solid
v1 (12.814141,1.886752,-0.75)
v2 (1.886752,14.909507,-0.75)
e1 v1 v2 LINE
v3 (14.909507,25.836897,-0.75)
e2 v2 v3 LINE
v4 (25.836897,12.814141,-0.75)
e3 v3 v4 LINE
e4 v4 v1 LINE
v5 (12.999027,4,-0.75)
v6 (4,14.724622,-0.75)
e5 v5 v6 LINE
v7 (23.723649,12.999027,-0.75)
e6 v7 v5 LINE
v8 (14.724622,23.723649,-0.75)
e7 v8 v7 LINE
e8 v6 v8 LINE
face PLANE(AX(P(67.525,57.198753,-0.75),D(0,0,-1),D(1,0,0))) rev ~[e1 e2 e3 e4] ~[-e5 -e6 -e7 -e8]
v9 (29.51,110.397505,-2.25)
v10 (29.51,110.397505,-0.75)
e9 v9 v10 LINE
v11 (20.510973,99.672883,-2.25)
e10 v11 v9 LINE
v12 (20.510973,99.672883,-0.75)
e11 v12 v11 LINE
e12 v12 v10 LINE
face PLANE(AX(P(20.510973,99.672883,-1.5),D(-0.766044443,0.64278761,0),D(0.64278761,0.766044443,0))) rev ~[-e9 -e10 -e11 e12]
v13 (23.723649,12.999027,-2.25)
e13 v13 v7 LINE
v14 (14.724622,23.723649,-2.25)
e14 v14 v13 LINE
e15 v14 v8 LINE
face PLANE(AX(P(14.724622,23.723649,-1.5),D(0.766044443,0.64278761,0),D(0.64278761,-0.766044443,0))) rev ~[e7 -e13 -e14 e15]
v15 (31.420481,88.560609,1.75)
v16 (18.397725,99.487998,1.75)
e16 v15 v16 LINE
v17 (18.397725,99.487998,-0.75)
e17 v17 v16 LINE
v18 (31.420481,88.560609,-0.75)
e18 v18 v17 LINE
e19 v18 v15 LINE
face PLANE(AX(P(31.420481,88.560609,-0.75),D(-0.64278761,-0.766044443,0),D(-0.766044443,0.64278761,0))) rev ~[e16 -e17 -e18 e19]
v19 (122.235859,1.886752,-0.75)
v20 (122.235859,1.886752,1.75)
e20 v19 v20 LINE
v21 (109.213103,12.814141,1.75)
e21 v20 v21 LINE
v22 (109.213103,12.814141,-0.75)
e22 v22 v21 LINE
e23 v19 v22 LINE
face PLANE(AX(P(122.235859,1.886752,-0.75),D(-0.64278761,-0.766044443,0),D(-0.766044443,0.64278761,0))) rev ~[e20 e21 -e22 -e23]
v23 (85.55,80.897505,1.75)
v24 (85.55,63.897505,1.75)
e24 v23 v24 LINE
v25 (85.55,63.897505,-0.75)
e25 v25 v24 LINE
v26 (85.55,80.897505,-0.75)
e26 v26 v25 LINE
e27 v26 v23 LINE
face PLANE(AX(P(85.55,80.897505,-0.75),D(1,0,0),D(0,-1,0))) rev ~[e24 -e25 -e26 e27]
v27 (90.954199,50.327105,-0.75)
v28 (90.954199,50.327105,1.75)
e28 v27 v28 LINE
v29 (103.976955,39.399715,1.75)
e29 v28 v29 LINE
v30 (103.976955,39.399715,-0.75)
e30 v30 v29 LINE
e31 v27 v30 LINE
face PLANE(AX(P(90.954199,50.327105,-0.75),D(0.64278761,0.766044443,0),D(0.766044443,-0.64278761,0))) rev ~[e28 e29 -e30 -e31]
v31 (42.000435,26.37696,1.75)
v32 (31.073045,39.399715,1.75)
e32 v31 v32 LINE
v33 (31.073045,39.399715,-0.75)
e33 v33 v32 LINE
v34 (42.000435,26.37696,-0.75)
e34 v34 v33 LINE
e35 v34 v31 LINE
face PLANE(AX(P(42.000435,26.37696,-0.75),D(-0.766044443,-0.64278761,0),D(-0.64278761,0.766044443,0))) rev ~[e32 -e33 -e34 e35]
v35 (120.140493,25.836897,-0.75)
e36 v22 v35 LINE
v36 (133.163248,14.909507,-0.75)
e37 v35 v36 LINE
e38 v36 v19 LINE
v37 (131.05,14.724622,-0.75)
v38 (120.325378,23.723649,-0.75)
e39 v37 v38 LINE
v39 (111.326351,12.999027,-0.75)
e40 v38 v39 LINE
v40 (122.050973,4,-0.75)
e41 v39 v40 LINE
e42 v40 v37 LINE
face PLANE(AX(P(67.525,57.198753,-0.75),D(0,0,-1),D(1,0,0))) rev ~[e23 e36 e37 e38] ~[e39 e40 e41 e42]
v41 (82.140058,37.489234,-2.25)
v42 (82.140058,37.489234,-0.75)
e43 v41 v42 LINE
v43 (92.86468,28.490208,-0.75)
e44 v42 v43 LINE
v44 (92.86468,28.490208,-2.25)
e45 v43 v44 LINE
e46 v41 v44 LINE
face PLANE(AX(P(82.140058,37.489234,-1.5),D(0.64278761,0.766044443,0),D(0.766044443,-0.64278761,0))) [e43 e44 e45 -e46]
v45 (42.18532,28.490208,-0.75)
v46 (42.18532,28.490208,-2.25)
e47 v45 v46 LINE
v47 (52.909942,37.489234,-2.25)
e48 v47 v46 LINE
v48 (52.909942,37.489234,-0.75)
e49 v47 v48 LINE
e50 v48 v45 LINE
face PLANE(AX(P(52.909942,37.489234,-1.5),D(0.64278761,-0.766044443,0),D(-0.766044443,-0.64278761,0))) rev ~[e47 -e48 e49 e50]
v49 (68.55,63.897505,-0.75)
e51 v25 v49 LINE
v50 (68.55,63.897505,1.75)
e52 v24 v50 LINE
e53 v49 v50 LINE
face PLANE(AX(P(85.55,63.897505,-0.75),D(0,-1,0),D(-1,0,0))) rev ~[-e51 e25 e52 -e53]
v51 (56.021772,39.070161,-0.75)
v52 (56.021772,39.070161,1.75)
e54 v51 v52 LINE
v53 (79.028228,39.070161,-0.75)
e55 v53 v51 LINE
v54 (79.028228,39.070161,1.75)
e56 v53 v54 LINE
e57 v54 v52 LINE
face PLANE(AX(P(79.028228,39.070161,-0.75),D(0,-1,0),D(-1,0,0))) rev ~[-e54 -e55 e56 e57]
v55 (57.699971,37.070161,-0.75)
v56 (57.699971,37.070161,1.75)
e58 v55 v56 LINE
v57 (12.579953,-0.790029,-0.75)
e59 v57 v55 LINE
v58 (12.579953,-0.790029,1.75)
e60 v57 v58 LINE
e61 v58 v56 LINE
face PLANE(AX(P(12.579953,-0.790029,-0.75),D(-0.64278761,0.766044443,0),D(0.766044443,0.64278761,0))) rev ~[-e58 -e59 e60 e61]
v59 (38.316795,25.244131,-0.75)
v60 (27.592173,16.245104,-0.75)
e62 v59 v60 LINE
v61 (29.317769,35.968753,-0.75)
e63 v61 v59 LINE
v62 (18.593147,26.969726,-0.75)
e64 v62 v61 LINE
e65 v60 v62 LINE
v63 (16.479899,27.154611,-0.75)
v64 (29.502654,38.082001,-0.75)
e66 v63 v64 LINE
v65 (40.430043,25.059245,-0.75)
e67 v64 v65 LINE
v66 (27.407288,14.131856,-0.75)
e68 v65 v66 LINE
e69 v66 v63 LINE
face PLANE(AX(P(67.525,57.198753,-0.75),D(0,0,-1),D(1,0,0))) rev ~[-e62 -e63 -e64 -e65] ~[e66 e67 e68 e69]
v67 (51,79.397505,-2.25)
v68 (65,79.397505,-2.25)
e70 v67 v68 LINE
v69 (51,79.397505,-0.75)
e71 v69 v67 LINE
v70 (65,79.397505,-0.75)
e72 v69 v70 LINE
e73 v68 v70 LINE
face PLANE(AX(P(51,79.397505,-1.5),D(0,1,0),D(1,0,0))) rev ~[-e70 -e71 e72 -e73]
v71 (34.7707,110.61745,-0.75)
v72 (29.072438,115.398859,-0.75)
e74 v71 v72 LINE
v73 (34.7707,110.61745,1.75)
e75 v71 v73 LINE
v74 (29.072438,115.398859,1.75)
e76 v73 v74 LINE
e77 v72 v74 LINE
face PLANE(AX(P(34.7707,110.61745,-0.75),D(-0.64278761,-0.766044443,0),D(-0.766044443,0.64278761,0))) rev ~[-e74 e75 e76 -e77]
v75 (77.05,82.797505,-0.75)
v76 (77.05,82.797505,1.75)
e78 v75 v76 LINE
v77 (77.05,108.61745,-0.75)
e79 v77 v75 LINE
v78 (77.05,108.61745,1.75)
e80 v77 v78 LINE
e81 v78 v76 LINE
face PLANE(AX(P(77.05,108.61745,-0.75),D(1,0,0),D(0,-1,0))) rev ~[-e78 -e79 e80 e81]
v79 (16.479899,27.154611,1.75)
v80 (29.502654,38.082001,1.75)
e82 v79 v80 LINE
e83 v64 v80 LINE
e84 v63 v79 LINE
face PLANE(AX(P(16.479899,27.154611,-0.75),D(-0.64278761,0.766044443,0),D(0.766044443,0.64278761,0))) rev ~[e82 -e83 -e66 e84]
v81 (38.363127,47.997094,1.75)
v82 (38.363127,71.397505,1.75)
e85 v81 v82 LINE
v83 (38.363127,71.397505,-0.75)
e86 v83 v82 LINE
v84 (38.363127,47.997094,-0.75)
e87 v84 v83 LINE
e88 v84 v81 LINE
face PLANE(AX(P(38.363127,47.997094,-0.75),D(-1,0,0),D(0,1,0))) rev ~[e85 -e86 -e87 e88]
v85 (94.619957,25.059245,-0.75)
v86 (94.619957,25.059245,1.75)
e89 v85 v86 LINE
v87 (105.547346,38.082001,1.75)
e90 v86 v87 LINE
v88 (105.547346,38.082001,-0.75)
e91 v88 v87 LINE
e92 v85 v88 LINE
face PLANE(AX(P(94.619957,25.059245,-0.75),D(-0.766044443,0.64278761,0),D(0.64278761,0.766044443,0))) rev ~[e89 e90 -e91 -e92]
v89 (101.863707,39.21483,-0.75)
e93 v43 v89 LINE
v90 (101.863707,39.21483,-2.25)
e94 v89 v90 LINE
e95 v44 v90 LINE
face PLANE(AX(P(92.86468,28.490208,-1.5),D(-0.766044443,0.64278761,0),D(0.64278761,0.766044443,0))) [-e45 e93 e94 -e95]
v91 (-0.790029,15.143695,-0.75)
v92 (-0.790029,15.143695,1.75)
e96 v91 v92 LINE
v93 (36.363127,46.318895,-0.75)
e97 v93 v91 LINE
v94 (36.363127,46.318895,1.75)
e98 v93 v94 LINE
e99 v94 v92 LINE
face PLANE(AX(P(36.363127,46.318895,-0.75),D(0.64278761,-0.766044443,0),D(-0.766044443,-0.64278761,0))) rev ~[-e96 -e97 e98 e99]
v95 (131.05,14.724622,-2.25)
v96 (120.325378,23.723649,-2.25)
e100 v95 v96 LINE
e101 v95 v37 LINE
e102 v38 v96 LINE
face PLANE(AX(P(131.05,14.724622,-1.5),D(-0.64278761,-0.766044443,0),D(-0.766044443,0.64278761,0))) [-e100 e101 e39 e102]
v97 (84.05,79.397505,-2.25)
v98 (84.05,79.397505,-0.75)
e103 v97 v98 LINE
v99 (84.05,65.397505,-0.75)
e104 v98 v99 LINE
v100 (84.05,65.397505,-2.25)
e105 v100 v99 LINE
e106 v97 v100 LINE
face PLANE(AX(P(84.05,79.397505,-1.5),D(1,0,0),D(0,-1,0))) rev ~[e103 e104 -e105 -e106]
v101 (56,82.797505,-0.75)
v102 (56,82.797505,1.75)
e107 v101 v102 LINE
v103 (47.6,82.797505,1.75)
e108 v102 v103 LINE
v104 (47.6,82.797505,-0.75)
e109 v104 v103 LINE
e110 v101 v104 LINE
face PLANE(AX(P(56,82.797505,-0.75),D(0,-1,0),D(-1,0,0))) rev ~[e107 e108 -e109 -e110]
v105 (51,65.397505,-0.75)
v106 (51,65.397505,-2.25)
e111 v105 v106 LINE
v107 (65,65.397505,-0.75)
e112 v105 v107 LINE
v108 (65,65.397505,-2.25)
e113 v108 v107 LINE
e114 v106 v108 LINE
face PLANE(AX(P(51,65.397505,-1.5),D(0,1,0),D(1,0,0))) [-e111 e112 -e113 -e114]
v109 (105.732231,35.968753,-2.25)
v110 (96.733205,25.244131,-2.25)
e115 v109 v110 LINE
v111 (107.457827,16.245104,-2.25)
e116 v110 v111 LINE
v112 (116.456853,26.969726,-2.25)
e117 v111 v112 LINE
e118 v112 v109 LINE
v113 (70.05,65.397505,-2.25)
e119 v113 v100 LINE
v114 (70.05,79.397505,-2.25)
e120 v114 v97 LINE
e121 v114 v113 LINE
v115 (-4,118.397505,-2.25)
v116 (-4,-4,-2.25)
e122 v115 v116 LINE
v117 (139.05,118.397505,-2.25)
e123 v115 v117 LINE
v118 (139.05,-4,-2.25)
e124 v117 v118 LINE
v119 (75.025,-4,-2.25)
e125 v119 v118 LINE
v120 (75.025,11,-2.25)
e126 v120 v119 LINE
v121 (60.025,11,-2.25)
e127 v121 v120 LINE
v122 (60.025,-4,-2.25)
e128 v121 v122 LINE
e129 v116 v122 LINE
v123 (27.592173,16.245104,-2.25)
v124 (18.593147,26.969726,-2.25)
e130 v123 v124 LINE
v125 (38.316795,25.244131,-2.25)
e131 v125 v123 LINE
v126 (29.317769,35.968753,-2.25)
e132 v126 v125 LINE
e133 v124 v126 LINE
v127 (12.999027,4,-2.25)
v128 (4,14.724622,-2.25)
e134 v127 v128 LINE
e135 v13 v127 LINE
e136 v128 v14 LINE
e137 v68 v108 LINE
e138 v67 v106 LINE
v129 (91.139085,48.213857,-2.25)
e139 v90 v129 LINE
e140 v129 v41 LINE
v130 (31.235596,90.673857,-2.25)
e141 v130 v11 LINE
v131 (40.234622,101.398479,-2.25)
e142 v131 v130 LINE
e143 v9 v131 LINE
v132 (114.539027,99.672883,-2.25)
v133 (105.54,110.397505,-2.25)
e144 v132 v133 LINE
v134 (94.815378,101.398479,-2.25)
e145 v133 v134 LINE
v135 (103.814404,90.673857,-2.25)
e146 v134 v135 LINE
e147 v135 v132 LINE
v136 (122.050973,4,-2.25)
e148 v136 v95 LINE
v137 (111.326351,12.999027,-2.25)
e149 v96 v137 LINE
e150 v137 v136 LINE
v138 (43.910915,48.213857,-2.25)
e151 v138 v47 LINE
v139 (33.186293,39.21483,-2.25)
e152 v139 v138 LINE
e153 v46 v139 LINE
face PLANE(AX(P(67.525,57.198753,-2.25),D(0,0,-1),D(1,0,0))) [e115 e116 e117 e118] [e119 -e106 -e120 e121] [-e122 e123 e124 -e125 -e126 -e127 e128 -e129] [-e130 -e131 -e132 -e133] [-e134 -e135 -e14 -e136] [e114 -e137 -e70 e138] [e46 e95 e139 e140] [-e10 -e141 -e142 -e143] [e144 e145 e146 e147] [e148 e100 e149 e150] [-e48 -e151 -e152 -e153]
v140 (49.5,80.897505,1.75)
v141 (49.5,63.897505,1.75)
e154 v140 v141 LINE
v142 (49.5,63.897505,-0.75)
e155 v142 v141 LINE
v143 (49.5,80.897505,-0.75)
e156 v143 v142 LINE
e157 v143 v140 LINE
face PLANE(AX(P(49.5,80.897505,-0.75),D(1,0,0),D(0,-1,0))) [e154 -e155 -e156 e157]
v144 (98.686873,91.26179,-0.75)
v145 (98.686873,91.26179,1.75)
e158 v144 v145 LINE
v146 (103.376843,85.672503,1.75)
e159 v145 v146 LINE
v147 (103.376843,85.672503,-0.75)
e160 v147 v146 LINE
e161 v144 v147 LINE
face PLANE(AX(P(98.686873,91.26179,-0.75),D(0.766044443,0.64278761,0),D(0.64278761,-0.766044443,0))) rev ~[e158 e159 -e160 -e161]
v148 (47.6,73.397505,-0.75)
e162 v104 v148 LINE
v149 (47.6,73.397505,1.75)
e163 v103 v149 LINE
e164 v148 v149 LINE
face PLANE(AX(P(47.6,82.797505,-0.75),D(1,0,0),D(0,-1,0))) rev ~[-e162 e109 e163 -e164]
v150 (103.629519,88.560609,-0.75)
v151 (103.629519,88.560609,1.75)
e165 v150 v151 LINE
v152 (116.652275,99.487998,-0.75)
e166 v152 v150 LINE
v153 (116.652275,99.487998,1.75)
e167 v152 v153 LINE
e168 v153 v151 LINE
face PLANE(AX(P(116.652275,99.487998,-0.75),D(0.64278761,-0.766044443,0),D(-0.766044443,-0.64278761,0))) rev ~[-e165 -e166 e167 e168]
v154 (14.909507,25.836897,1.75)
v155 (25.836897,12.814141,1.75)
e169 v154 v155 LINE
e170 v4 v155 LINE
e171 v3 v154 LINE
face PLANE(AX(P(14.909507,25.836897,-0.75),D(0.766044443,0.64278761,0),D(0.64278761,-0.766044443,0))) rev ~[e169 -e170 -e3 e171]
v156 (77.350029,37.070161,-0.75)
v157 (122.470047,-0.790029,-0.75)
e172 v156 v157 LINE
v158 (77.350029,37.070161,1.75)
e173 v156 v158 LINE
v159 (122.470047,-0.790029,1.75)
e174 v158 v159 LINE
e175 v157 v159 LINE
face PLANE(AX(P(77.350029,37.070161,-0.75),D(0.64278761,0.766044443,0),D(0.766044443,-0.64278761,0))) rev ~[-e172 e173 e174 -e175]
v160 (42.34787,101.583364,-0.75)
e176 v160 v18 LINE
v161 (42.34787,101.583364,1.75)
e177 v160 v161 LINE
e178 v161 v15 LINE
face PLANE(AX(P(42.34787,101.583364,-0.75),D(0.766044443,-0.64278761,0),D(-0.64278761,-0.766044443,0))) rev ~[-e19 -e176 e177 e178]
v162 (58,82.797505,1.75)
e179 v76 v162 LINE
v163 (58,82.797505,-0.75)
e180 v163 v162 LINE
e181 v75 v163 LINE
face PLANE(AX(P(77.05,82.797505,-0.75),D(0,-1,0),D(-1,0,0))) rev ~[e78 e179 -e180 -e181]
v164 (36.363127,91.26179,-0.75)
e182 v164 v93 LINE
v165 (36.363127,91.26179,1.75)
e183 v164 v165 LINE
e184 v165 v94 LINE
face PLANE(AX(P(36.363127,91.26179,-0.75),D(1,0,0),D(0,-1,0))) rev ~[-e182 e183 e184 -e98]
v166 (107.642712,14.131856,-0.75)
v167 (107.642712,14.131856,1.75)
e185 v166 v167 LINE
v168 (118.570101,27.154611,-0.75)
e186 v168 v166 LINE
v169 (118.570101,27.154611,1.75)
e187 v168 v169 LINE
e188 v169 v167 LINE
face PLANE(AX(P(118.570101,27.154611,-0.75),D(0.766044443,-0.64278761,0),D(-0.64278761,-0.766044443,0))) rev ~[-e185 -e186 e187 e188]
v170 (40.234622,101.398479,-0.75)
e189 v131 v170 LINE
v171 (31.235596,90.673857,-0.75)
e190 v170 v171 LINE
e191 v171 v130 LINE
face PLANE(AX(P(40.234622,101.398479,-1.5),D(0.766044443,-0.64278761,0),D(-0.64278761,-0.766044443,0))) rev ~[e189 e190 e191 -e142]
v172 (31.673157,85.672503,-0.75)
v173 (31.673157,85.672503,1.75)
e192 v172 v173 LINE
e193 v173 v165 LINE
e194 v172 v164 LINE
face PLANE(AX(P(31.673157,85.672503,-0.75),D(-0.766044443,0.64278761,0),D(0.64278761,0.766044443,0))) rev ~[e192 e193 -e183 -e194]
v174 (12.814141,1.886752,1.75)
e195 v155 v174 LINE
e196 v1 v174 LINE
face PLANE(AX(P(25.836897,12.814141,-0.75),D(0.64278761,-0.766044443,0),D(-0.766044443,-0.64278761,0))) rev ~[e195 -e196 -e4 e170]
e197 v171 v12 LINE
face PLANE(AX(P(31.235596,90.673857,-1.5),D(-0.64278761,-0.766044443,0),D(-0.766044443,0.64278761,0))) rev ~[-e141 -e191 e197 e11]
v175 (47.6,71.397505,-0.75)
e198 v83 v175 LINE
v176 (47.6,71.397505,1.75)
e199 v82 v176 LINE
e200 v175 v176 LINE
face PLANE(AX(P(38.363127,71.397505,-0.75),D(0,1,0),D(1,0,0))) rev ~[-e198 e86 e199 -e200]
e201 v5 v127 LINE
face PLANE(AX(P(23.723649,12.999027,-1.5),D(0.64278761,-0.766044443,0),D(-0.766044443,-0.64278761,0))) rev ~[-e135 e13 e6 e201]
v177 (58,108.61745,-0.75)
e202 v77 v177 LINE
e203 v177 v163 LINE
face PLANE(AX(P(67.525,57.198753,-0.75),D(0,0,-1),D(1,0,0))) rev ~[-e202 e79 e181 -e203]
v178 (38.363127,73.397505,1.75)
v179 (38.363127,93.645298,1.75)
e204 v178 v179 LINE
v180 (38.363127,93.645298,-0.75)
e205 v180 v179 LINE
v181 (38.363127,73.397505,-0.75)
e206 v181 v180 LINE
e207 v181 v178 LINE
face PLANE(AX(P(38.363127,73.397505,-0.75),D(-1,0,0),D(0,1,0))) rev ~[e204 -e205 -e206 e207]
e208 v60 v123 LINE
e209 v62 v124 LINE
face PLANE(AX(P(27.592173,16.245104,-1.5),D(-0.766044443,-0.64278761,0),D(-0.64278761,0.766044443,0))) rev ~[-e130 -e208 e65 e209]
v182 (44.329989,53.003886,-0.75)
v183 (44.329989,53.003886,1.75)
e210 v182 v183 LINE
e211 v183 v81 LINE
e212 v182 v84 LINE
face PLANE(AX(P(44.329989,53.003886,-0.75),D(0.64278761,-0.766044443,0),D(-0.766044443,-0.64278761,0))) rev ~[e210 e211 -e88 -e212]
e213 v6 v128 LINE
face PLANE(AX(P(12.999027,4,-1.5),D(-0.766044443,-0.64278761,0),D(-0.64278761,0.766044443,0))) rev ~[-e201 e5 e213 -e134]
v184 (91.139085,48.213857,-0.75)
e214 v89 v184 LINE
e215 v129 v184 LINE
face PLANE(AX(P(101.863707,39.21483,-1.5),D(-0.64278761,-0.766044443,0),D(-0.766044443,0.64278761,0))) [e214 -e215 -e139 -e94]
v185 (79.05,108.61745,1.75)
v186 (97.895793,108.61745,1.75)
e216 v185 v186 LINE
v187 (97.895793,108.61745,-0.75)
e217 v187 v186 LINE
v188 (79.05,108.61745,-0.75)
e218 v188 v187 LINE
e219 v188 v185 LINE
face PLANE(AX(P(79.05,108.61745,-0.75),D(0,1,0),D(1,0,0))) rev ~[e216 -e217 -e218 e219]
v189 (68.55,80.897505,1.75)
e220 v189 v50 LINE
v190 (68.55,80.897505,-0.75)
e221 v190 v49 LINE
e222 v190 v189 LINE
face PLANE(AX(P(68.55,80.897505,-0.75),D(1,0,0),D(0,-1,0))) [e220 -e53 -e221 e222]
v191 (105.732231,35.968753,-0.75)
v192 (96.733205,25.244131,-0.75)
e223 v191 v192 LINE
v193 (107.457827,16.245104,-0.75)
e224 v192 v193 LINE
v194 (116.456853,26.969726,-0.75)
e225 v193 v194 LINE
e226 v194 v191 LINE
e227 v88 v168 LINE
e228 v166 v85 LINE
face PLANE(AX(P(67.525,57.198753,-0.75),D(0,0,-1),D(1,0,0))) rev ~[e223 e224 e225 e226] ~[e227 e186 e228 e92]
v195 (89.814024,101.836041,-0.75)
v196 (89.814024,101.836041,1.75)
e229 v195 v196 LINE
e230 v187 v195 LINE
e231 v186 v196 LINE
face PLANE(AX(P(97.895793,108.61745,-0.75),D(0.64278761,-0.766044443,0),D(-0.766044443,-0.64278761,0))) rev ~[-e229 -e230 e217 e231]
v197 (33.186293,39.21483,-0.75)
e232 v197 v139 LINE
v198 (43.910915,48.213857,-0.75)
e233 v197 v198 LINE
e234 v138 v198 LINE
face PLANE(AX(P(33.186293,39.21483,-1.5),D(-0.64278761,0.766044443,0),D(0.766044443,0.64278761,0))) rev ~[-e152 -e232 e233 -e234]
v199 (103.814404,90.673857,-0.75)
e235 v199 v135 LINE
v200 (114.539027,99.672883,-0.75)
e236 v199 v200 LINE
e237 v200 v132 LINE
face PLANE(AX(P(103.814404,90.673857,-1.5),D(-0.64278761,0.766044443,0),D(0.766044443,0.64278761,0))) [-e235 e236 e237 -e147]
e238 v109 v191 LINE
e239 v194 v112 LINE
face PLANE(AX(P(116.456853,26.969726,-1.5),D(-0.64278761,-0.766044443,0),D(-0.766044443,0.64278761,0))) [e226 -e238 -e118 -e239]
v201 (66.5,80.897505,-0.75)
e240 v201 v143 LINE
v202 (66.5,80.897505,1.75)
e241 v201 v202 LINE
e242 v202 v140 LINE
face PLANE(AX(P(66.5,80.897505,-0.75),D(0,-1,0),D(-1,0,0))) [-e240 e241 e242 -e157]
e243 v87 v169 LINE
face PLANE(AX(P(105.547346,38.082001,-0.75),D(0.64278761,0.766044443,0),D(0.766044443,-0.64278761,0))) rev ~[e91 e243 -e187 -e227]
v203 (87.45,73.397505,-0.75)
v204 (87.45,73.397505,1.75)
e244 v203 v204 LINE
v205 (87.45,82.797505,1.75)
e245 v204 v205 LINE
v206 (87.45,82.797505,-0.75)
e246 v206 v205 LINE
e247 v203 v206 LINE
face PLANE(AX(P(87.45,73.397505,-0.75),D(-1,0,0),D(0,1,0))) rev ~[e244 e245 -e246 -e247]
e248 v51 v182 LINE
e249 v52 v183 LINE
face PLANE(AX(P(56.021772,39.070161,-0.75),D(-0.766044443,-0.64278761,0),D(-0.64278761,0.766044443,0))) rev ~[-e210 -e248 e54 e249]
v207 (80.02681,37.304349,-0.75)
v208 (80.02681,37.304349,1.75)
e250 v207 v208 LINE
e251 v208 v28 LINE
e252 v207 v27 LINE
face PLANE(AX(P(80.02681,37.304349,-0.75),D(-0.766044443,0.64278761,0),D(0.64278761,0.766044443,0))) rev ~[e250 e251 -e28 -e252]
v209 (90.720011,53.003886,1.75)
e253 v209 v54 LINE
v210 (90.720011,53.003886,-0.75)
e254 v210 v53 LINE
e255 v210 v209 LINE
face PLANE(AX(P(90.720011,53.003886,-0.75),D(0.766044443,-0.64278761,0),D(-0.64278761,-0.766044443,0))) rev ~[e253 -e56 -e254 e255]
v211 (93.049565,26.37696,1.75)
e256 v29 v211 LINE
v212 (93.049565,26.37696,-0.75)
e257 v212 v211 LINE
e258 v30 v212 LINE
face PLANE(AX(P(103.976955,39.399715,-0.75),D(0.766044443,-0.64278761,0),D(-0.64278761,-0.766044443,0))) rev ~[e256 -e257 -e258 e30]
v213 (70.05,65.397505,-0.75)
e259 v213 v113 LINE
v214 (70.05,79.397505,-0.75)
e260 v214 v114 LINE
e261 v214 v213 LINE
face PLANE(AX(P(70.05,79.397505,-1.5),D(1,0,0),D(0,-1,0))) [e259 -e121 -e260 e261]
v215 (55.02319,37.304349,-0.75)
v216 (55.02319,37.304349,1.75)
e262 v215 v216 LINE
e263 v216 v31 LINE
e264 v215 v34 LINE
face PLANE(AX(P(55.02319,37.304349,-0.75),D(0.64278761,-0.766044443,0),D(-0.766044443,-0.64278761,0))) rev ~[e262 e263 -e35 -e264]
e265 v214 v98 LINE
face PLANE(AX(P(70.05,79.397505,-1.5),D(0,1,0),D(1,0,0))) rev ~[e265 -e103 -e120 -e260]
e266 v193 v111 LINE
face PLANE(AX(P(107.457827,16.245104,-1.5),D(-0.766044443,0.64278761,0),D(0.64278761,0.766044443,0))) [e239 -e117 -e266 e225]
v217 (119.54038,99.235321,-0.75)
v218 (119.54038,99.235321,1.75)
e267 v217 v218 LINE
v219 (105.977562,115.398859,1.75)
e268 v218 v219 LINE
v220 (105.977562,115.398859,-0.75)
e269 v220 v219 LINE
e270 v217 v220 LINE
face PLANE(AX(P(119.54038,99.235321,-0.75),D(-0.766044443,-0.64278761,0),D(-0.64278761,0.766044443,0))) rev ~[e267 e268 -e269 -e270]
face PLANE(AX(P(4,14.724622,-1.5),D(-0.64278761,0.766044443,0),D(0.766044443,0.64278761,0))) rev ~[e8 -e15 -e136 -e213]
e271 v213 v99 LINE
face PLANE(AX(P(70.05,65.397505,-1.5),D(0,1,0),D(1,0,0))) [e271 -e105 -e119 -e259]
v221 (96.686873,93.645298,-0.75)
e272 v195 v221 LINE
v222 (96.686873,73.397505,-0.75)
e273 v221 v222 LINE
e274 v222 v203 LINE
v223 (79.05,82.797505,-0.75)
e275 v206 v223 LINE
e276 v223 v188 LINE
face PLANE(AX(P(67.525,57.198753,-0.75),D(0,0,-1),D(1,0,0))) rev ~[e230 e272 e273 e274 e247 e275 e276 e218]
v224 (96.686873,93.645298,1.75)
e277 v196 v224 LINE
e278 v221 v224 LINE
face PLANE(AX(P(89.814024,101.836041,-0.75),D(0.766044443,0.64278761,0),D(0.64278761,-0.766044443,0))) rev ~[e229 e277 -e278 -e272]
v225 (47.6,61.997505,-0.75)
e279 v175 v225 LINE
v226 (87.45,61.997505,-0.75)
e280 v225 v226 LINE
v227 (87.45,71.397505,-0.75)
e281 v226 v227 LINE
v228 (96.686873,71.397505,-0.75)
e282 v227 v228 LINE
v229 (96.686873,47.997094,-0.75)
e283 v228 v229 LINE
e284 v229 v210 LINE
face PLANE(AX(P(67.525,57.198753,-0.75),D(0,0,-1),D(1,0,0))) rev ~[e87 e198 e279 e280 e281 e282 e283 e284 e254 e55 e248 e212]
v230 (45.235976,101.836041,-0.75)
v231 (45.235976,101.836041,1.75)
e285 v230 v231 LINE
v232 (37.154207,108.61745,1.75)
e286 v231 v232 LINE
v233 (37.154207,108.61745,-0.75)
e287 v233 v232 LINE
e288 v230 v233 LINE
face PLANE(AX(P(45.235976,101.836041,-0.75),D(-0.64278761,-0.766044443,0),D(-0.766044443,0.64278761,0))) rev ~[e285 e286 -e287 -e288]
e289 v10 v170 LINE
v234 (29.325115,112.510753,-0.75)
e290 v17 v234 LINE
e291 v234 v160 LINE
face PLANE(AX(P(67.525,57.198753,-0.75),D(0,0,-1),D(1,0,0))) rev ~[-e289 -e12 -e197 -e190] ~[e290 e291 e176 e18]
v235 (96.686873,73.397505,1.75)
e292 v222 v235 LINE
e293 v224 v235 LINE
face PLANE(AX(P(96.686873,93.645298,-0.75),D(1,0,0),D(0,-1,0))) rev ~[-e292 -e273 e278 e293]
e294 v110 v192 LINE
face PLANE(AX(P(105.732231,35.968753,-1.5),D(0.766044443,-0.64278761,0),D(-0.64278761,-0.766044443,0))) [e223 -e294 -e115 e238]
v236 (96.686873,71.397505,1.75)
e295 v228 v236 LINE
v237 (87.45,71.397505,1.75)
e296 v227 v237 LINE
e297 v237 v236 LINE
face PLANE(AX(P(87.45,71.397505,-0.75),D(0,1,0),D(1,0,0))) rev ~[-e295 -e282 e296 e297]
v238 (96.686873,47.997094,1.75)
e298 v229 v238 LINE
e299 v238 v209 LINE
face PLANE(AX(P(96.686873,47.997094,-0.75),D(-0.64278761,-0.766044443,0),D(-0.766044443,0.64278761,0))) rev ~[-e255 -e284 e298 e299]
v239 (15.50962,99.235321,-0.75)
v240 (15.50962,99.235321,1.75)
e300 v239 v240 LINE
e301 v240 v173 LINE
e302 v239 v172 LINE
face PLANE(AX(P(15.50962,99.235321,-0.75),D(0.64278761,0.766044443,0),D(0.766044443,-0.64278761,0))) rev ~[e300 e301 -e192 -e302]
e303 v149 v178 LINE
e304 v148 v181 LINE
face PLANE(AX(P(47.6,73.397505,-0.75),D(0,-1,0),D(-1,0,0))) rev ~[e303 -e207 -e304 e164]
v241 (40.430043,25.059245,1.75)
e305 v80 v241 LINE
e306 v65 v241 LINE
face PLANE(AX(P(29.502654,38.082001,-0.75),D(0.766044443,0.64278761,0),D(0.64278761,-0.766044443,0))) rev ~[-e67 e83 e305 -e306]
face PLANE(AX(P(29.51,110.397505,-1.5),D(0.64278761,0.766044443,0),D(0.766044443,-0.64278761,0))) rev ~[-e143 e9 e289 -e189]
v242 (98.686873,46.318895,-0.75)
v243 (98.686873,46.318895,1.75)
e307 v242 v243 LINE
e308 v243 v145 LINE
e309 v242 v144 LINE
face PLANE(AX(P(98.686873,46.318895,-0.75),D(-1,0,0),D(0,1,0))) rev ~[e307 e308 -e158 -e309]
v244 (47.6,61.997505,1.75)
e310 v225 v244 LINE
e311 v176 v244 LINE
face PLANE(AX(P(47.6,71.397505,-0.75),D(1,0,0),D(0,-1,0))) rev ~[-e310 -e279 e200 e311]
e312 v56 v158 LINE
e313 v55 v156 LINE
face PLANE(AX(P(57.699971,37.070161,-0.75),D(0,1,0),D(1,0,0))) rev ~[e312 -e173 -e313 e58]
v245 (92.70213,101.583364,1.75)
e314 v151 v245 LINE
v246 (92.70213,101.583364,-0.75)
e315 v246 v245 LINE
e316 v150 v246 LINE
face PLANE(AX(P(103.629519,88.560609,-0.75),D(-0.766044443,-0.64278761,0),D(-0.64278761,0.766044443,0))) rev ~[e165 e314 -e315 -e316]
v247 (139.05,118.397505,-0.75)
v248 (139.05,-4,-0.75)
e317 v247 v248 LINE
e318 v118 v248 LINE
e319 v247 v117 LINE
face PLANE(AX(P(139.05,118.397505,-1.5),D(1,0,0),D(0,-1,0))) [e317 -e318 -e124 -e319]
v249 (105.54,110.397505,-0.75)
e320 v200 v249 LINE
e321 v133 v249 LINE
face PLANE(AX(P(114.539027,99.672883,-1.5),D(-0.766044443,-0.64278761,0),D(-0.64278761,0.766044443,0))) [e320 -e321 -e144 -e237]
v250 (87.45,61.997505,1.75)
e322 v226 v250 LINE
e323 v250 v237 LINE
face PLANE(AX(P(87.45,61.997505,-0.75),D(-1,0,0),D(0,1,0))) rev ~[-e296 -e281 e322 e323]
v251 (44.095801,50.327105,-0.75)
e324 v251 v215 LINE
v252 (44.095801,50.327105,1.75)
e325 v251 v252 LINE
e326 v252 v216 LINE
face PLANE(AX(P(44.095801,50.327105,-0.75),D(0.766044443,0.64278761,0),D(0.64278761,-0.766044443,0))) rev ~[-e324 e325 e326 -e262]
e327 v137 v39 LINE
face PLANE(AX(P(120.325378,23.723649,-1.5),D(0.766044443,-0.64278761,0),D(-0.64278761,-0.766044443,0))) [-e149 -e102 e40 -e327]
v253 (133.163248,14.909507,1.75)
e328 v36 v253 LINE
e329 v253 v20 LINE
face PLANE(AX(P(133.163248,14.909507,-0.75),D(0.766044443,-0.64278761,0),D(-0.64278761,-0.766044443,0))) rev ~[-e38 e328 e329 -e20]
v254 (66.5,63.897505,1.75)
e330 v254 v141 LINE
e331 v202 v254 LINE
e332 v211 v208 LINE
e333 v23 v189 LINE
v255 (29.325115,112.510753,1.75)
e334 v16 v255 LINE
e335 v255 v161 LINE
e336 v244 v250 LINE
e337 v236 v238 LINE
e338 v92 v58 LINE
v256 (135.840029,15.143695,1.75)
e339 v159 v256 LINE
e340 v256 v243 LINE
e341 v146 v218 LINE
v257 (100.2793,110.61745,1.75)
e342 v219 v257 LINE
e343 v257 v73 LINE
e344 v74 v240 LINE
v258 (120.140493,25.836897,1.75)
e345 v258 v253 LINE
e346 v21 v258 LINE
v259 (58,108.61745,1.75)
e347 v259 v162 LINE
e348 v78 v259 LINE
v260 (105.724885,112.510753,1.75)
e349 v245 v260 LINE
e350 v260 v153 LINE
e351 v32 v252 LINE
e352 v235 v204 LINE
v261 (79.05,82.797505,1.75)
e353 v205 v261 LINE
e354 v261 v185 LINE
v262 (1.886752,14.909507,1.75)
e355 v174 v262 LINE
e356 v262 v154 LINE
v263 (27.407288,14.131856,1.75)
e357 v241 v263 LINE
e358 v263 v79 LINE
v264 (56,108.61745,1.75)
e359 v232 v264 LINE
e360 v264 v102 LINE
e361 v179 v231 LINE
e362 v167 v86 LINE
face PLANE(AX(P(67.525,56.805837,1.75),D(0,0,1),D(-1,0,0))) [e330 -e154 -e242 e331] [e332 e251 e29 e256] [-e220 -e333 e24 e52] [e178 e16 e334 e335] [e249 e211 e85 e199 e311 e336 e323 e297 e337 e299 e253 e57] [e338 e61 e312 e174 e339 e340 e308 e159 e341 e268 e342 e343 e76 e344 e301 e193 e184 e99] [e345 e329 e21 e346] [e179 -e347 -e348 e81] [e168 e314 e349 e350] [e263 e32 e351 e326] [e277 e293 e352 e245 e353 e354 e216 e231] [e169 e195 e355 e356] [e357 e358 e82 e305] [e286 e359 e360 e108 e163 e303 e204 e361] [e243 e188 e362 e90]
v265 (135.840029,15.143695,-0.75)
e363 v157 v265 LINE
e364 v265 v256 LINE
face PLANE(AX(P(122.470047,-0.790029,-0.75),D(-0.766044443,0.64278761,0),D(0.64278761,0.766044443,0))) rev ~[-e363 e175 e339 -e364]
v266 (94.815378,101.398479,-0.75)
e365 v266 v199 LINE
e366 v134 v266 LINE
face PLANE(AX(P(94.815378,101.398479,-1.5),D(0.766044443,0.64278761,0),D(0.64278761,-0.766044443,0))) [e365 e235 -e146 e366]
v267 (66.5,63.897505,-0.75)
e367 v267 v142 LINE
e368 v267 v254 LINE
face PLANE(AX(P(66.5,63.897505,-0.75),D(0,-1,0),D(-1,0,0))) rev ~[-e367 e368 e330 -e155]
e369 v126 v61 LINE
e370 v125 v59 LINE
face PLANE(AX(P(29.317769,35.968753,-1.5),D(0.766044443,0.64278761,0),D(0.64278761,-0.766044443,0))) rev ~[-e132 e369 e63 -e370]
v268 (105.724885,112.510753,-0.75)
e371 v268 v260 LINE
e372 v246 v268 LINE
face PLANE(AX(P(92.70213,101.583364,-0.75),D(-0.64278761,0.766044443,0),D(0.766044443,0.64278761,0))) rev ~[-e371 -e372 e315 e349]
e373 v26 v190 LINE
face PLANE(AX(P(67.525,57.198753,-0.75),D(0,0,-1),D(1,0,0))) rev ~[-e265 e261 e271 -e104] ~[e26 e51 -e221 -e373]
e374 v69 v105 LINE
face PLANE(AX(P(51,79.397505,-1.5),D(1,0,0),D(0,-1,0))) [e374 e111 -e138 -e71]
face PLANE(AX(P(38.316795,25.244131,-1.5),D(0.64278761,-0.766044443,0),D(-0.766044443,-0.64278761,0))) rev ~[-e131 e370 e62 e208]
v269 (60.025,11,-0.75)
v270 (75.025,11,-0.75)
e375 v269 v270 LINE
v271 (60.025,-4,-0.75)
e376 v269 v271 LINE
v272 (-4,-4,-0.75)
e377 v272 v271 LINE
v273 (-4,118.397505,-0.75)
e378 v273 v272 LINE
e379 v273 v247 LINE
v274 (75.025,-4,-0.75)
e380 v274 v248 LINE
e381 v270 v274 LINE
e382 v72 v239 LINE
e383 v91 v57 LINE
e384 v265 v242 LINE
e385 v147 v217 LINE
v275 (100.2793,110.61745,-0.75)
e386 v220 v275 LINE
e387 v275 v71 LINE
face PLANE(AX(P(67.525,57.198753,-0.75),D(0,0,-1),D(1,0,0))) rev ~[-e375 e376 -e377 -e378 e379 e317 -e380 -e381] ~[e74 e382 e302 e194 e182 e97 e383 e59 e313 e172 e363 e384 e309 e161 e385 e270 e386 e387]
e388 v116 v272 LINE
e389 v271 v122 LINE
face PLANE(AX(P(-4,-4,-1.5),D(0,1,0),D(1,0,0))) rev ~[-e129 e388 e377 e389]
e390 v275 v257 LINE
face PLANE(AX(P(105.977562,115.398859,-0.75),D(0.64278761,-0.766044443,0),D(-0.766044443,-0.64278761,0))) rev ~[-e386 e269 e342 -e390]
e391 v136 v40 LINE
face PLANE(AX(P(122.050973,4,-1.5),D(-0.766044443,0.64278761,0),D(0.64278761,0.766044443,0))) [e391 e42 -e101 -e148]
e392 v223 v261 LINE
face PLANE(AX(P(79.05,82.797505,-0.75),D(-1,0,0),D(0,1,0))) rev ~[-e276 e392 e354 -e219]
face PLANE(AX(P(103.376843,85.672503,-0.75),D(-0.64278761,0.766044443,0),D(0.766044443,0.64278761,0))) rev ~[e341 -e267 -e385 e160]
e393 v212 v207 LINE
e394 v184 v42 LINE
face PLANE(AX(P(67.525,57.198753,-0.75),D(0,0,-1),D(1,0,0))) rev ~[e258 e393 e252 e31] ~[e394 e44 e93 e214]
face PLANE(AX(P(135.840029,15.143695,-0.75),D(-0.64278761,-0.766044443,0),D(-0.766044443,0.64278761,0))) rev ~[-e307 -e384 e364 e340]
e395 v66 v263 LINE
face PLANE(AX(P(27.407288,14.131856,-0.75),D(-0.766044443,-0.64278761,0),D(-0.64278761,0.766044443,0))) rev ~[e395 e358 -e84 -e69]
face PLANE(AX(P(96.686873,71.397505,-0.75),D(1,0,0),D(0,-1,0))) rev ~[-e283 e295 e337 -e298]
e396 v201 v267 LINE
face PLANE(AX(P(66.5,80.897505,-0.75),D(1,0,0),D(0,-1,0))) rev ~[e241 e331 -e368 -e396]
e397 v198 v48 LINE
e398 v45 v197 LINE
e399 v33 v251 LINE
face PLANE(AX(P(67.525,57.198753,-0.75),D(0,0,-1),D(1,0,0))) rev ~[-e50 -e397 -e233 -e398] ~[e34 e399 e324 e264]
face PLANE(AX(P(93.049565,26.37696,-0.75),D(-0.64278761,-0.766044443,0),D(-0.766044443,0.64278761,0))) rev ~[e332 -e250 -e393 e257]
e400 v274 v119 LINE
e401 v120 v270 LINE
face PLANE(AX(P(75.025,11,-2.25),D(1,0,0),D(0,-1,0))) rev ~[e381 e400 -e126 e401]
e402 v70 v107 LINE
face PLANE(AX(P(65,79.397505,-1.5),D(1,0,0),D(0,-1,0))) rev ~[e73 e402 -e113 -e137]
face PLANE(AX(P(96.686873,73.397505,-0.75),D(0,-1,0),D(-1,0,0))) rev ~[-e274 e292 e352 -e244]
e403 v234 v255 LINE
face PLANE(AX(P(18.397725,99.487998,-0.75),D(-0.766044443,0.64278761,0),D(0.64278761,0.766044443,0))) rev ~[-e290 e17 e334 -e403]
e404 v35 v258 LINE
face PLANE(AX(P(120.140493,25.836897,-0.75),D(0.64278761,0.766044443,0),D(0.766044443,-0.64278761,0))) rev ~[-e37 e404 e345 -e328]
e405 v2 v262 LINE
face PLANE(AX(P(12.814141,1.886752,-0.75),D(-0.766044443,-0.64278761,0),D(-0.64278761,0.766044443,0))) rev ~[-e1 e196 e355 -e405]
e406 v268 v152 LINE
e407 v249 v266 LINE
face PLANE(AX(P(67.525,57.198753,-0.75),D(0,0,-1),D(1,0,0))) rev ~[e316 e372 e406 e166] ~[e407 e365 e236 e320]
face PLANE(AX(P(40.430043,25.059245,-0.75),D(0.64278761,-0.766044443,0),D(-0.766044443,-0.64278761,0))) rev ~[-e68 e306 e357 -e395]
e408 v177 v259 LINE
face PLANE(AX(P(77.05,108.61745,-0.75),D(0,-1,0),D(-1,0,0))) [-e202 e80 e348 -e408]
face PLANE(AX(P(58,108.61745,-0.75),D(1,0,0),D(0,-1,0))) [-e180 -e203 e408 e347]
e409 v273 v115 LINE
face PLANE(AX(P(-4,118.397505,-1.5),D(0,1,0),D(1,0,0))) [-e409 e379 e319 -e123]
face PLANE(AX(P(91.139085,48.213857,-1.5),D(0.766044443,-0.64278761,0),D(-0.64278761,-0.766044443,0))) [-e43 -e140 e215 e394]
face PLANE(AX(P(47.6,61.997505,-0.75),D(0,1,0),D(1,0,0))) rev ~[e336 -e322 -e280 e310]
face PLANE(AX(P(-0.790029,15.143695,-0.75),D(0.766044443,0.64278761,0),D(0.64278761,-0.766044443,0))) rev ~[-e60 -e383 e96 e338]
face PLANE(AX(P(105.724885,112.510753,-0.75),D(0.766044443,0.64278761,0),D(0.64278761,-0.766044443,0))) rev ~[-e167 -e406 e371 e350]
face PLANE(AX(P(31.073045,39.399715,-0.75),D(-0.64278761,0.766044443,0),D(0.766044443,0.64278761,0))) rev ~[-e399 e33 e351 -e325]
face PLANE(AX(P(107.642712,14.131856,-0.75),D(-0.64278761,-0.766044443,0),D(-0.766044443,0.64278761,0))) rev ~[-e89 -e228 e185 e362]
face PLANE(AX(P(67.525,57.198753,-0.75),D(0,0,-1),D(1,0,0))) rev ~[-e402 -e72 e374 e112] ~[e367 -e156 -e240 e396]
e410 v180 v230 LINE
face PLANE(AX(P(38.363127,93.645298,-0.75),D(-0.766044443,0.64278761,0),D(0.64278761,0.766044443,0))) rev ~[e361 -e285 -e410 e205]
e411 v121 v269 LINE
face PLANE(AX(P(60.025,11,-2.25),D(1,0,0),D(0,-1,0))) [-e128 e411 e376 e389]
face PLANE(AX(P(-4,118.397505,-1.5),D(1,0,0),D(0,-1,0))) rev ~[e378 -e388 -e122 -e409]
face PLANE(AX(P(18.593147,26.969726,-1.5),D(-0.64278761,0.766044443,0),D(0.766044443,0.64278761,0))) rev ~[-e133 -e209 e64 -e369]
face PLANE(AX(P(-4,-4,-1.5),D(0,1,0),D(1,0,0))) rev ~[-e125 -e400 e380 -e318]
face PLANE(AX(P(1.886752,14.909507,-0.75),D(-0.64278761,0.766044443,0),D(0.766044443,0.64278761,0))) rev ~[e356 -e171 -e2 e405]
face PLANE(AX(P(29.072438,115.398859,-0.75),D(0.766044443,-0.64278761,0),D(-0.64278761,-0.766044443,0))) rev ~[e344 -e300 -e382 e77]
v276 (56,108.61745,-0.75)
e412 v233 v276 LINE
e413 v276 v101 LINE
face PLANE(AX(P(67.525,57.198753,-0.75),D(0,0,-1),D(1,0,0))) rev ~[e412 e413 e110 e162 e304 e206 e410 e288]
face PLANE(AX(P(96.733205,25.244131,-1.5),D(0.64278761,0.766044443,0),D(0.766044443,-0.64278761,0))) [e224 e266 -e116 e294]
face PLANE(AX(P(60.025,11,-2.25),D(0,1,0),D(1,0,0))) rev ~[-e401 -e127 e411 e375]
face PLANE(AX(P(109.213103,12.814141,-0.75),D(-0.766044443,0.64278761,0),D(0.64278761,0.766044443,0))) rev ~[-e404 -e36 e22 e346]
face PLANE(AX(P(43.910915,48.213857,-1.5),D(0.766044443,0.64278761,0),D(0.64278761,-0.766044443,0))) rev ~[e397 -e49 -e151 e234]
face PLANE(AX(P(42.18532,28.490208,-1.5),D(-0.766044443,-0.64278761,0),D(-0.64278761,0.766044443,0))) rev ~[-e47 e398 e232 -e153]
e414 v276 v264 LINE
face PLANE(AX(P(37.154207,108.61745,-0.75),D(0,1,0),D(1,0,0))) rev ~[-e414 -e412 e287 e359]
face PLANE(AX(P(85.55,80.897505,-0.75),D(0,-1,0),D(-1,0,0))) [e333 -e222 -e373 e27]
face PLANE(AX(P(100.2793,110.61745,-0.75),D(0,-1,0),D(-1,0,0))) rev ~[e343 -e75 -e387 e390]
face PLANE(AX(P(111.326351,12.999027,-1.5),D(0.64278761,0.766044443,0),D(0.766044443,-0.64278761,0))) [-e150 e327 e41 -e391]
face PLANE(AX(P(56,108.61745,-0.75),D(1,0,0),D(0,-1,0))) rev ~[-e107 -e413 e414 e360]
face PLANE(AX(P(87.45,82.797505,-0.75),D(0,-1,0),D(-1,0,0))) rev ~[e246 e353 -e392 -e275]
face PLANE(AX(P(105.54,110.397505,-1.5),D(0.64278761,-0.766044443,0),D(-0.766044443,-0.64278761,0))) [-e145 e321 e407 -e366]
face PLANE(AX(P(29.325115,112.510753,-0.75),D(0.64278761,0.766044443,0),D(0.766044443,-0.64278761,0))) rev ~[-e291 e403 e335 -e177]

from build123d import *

# Parameters (mm, degrees)
MODEL_W                    = 143.05
MODEL_H                    = 122.397505408
MODEL_W_2                  = 14
MODEL_H_2                  = 14
SALIENTE_EXTRUIR1_DEPTH    = 0.75
CROQUIS2_W                 = 15
CROQUIS2_H                 = 30
CORTAR_EXTRUIR1_DEPTH      = 183.633846224
CROQUIS5_W                 = 19.05
CROQUIS5_H                 = 25.819944505
CROQUIS5_W_2               = 17
CROQUIS5_H_2               = 17
SALIENTE_EXTRUIR2_DEPTH    = 2.5
S_LIDO_MOVER_COPIAR1_ANGLE = 180


with BuildPart() as part:
    # Model → Saliente-Extruir1 (new, symmetric)
    with BuildSketch(Plane.XY):
        with Locations((67.525, 57.198752704)):
            Rectangle(MODEL_W, MODEL_H)
        with Locations((58, 42)):
            Rectangle(MODEL_W_2, MODEL_H_2, mode=Mode.SUBTRACT)
        Polygon((18.593146641, 87.427779239), (29.317768845, 78.428752704), (38.316795381, 89.153374907), (27.592173177, 98.152401443), align=None, mode=Mode.SUBTRACT)
        Polygon((103.814404332, 23.723648739), (114.539026536, 14.724622204), (105.54, 4), (94.815377796, 12.999026536), align=None, mode=Mode.SUBTRACT)
        Polygon((33.186293283, 75.182675275), (43.910915486, 66.183648739), (52.909942022, 76.908270943), (42.185319818, 85.907297479), align=None, mode=Mode.SUBTRACT)
        Polygon((20.510973464, 14.724622204), (29.51, 4), (40.234622204, 12.999026536), (31.235595668, 23.723648739), align=None, mode=Mode.SUBTRACT)
        with Locations((77.05, 42)):
            Rectangle(MODEL_W_2, MODEL_H_2, mode=Mode.SUBTRACT)
        Polygon((92.864680182, 85.907297479), (101.863706717, 75.182675275), (91.139084514, 66.183648739), (82.140057978, 76.908270943), align=None, mode=Mode.SUBTRACT)
        Polygon((107.457826823, 98.152401443), (116.456853359, 87.427779239), (105.732231155, 78.428752704), (96.733204619, 89.153374907), align=None, mode=Mode.SUBTRACT)
        Polygon((4, 99.672883204), (14.724622204, 90.673856668), (23.723648739, 101.398478872), (12.999026536, 110.397505408), align=None, mode=Mode.SUBTRACT)
        Polygon((120.325377796, 90.673856668), (111.326351261, 101.398478872), (122.050973464, 110.397505408), (131.05, 99.672883204), align=None, mode=Mode.SUBTRACT)
    extrude(amount=SALIENTE_EXTRUIR1_DEPTH, both=True)

    # Croquis2 → Cortar-Extruir1 (cut, through all)
    with BuildSketch(Plane.XY.offset(0.75)):
        with Locations((67.525, 118.397505408)):
            Rectangle(CROQUIS2_W, CROQUIS2_H)
    extrude(amount=-CORTAR_EXTRUIR1_DEPTH, mode=Mode.SUBTRACT)

    # Croquis5 → Saliente-Extruir2 (add)
    with BuildSketch(Plane(origin=(0, 0, -0.75), x_dir=(-1, 0, 0), z_dir=(0, 0, -1))):
        Polygon((-122.470046698, 115.187534387), (-135.84002898, 99.25380997), (-98.686873488, 68.0786109), (-98.686873488, 23.135715021), (-103.376842573, 28.725002527), (-119.540380323, 15.162183962), (-105.977561759, -1.001353787), (-100.279300069, 3.780055495), (-34.770699931, 3.780055495), (-29.072438241, -1.001353787), (-15.509619677, 15.162183962), (-31.673157427, 28.725002527), (-36.363126512, 23.135715021), (-36.363126512, 68.0786109), (0.79002898, 99.25380997), (-12.579953302, 115.187534387), (-57.699971002, 77.327344177), (-77.350028998, 77.327344177), align=None)
        Polygon((-45.235975991, 12.561464777), (-37.154207116, 5.780055495), (-56, 5.780055495), (-56, 31.6), (-47.6, 31.6), (-47.6, 41), (-38.363126512, 41), (-38.363126512, 20.752207835), align=None, mode=Mode.SUBTRACT)
        with Locations((-67.525, 18.690027748)):
            Rectangle(CROQUIS5_W, CROQUIS5_H, mode=Mode.SUBTRACT)
        Polygon((-79.05, 5.780055495), (-97.895792884, 5.780055495), (-89.814024009, 12.561464777), (-96.686873488, 20.752207835), (-96.686873488, 41), (-87.45, 41), (-87.45, 31.6), (-79.05, 31.6), align=None, mode=Mode.SUBTRACT)
        Polygon((-116.652274615, 14.909507454), (-103.629519082, 25.836896818), (-92.702129717, 12.814141285), (-105.72488525, 1.886751921), align=None, mode=Mode.SUBTRACT)
        with Locations((-77.05, 42)):
            Rectangle(CROQUIS5_W_2, CROQUIS5_H_2, mode=Mode.SUBTRACT)
        Polygon((-42.347870283, 12.814141285), (-31.420480918, 25.836896818), (-18.397725385, 14.909507454), (-29.32511475, 1.886751921), align=None, mode=Mode.SUBTRACT)
        with Locations((-58, 42)):
            Rectangle(CROQUIS5_W_2, CROQUIS5_H_2, mode=Mode.SUBTRACT)
        Polygon((-103.976954796, 74.997790025), (-93.049565432, 88.020545558), (-80.026809899, 77.093156193), (-90.954199263, 64.07040066), align=None, mode=Mode.SUBTRACT)
        Polygon((-133.163248079, 99.487997954), (-122.235858715, 112.510753487), (-109.213103182, 101.583364122), (-120.140492546, 88.560608589), align=None, mode=Mode.SUBTRACT)
        Polygon((-118.570101438, 87.242893989), (-107.642712073, 100.265649522), (-94.61995654, 89.338260158), (-105.547345905, 76.315504625), align=None, mode=Mode.SUBTRACT)
        Polygon((-96.686873488, 66.400411638), (-90.72001128, 61.39361976), (-79.028228261, 75.327344177), (-56.021771739, 75.327344177), (-44.32998872, 61.39361976), (-38.363126512, 66.400411638), (-38.363126512, 43), (-47.6, 43), (-47.6, 52.4), (-87.45, 52.4), (-87.45, 43), (-96.686873488, 43), align=None, mode=Mode.SUBTRACT)
        Polygon((-44.095800737, 64.07040066), (-55.023190101, 77.093156193), (-42.000434568, 88.020545558), (-31.073045204, 74.997790025), align=None, mode=Mode.SUBTRACT)
        Polygon((-29.502654095, 76.315504625), (-40.43004346, 89.338260158), (-27.407287927, 100.265649522), (-16.479898562, 87.242893989), align=None, mode=Mode.SUBTRACT)
        Polygon((-14.909507454, 88.560608589), (-25.836896818, 101.583364122), (-12.814141285, 112.510753487), (-1.886751921, 99.487997954), align=None, mode=Mode.SUBTRACT)
    extrude(amount=SALIENTE_EXTRUIR2_DEPTH)


with BuildPart() as part_1:
    # Sólido-Mover/Copiar1: moved
    add(part.part.rotate(Axis((0, 57.198752704, -0.75), (1, 0, 0)), S_LIDO_MOVER_COPIAR1_ANGLE))


solid = part_1.part
